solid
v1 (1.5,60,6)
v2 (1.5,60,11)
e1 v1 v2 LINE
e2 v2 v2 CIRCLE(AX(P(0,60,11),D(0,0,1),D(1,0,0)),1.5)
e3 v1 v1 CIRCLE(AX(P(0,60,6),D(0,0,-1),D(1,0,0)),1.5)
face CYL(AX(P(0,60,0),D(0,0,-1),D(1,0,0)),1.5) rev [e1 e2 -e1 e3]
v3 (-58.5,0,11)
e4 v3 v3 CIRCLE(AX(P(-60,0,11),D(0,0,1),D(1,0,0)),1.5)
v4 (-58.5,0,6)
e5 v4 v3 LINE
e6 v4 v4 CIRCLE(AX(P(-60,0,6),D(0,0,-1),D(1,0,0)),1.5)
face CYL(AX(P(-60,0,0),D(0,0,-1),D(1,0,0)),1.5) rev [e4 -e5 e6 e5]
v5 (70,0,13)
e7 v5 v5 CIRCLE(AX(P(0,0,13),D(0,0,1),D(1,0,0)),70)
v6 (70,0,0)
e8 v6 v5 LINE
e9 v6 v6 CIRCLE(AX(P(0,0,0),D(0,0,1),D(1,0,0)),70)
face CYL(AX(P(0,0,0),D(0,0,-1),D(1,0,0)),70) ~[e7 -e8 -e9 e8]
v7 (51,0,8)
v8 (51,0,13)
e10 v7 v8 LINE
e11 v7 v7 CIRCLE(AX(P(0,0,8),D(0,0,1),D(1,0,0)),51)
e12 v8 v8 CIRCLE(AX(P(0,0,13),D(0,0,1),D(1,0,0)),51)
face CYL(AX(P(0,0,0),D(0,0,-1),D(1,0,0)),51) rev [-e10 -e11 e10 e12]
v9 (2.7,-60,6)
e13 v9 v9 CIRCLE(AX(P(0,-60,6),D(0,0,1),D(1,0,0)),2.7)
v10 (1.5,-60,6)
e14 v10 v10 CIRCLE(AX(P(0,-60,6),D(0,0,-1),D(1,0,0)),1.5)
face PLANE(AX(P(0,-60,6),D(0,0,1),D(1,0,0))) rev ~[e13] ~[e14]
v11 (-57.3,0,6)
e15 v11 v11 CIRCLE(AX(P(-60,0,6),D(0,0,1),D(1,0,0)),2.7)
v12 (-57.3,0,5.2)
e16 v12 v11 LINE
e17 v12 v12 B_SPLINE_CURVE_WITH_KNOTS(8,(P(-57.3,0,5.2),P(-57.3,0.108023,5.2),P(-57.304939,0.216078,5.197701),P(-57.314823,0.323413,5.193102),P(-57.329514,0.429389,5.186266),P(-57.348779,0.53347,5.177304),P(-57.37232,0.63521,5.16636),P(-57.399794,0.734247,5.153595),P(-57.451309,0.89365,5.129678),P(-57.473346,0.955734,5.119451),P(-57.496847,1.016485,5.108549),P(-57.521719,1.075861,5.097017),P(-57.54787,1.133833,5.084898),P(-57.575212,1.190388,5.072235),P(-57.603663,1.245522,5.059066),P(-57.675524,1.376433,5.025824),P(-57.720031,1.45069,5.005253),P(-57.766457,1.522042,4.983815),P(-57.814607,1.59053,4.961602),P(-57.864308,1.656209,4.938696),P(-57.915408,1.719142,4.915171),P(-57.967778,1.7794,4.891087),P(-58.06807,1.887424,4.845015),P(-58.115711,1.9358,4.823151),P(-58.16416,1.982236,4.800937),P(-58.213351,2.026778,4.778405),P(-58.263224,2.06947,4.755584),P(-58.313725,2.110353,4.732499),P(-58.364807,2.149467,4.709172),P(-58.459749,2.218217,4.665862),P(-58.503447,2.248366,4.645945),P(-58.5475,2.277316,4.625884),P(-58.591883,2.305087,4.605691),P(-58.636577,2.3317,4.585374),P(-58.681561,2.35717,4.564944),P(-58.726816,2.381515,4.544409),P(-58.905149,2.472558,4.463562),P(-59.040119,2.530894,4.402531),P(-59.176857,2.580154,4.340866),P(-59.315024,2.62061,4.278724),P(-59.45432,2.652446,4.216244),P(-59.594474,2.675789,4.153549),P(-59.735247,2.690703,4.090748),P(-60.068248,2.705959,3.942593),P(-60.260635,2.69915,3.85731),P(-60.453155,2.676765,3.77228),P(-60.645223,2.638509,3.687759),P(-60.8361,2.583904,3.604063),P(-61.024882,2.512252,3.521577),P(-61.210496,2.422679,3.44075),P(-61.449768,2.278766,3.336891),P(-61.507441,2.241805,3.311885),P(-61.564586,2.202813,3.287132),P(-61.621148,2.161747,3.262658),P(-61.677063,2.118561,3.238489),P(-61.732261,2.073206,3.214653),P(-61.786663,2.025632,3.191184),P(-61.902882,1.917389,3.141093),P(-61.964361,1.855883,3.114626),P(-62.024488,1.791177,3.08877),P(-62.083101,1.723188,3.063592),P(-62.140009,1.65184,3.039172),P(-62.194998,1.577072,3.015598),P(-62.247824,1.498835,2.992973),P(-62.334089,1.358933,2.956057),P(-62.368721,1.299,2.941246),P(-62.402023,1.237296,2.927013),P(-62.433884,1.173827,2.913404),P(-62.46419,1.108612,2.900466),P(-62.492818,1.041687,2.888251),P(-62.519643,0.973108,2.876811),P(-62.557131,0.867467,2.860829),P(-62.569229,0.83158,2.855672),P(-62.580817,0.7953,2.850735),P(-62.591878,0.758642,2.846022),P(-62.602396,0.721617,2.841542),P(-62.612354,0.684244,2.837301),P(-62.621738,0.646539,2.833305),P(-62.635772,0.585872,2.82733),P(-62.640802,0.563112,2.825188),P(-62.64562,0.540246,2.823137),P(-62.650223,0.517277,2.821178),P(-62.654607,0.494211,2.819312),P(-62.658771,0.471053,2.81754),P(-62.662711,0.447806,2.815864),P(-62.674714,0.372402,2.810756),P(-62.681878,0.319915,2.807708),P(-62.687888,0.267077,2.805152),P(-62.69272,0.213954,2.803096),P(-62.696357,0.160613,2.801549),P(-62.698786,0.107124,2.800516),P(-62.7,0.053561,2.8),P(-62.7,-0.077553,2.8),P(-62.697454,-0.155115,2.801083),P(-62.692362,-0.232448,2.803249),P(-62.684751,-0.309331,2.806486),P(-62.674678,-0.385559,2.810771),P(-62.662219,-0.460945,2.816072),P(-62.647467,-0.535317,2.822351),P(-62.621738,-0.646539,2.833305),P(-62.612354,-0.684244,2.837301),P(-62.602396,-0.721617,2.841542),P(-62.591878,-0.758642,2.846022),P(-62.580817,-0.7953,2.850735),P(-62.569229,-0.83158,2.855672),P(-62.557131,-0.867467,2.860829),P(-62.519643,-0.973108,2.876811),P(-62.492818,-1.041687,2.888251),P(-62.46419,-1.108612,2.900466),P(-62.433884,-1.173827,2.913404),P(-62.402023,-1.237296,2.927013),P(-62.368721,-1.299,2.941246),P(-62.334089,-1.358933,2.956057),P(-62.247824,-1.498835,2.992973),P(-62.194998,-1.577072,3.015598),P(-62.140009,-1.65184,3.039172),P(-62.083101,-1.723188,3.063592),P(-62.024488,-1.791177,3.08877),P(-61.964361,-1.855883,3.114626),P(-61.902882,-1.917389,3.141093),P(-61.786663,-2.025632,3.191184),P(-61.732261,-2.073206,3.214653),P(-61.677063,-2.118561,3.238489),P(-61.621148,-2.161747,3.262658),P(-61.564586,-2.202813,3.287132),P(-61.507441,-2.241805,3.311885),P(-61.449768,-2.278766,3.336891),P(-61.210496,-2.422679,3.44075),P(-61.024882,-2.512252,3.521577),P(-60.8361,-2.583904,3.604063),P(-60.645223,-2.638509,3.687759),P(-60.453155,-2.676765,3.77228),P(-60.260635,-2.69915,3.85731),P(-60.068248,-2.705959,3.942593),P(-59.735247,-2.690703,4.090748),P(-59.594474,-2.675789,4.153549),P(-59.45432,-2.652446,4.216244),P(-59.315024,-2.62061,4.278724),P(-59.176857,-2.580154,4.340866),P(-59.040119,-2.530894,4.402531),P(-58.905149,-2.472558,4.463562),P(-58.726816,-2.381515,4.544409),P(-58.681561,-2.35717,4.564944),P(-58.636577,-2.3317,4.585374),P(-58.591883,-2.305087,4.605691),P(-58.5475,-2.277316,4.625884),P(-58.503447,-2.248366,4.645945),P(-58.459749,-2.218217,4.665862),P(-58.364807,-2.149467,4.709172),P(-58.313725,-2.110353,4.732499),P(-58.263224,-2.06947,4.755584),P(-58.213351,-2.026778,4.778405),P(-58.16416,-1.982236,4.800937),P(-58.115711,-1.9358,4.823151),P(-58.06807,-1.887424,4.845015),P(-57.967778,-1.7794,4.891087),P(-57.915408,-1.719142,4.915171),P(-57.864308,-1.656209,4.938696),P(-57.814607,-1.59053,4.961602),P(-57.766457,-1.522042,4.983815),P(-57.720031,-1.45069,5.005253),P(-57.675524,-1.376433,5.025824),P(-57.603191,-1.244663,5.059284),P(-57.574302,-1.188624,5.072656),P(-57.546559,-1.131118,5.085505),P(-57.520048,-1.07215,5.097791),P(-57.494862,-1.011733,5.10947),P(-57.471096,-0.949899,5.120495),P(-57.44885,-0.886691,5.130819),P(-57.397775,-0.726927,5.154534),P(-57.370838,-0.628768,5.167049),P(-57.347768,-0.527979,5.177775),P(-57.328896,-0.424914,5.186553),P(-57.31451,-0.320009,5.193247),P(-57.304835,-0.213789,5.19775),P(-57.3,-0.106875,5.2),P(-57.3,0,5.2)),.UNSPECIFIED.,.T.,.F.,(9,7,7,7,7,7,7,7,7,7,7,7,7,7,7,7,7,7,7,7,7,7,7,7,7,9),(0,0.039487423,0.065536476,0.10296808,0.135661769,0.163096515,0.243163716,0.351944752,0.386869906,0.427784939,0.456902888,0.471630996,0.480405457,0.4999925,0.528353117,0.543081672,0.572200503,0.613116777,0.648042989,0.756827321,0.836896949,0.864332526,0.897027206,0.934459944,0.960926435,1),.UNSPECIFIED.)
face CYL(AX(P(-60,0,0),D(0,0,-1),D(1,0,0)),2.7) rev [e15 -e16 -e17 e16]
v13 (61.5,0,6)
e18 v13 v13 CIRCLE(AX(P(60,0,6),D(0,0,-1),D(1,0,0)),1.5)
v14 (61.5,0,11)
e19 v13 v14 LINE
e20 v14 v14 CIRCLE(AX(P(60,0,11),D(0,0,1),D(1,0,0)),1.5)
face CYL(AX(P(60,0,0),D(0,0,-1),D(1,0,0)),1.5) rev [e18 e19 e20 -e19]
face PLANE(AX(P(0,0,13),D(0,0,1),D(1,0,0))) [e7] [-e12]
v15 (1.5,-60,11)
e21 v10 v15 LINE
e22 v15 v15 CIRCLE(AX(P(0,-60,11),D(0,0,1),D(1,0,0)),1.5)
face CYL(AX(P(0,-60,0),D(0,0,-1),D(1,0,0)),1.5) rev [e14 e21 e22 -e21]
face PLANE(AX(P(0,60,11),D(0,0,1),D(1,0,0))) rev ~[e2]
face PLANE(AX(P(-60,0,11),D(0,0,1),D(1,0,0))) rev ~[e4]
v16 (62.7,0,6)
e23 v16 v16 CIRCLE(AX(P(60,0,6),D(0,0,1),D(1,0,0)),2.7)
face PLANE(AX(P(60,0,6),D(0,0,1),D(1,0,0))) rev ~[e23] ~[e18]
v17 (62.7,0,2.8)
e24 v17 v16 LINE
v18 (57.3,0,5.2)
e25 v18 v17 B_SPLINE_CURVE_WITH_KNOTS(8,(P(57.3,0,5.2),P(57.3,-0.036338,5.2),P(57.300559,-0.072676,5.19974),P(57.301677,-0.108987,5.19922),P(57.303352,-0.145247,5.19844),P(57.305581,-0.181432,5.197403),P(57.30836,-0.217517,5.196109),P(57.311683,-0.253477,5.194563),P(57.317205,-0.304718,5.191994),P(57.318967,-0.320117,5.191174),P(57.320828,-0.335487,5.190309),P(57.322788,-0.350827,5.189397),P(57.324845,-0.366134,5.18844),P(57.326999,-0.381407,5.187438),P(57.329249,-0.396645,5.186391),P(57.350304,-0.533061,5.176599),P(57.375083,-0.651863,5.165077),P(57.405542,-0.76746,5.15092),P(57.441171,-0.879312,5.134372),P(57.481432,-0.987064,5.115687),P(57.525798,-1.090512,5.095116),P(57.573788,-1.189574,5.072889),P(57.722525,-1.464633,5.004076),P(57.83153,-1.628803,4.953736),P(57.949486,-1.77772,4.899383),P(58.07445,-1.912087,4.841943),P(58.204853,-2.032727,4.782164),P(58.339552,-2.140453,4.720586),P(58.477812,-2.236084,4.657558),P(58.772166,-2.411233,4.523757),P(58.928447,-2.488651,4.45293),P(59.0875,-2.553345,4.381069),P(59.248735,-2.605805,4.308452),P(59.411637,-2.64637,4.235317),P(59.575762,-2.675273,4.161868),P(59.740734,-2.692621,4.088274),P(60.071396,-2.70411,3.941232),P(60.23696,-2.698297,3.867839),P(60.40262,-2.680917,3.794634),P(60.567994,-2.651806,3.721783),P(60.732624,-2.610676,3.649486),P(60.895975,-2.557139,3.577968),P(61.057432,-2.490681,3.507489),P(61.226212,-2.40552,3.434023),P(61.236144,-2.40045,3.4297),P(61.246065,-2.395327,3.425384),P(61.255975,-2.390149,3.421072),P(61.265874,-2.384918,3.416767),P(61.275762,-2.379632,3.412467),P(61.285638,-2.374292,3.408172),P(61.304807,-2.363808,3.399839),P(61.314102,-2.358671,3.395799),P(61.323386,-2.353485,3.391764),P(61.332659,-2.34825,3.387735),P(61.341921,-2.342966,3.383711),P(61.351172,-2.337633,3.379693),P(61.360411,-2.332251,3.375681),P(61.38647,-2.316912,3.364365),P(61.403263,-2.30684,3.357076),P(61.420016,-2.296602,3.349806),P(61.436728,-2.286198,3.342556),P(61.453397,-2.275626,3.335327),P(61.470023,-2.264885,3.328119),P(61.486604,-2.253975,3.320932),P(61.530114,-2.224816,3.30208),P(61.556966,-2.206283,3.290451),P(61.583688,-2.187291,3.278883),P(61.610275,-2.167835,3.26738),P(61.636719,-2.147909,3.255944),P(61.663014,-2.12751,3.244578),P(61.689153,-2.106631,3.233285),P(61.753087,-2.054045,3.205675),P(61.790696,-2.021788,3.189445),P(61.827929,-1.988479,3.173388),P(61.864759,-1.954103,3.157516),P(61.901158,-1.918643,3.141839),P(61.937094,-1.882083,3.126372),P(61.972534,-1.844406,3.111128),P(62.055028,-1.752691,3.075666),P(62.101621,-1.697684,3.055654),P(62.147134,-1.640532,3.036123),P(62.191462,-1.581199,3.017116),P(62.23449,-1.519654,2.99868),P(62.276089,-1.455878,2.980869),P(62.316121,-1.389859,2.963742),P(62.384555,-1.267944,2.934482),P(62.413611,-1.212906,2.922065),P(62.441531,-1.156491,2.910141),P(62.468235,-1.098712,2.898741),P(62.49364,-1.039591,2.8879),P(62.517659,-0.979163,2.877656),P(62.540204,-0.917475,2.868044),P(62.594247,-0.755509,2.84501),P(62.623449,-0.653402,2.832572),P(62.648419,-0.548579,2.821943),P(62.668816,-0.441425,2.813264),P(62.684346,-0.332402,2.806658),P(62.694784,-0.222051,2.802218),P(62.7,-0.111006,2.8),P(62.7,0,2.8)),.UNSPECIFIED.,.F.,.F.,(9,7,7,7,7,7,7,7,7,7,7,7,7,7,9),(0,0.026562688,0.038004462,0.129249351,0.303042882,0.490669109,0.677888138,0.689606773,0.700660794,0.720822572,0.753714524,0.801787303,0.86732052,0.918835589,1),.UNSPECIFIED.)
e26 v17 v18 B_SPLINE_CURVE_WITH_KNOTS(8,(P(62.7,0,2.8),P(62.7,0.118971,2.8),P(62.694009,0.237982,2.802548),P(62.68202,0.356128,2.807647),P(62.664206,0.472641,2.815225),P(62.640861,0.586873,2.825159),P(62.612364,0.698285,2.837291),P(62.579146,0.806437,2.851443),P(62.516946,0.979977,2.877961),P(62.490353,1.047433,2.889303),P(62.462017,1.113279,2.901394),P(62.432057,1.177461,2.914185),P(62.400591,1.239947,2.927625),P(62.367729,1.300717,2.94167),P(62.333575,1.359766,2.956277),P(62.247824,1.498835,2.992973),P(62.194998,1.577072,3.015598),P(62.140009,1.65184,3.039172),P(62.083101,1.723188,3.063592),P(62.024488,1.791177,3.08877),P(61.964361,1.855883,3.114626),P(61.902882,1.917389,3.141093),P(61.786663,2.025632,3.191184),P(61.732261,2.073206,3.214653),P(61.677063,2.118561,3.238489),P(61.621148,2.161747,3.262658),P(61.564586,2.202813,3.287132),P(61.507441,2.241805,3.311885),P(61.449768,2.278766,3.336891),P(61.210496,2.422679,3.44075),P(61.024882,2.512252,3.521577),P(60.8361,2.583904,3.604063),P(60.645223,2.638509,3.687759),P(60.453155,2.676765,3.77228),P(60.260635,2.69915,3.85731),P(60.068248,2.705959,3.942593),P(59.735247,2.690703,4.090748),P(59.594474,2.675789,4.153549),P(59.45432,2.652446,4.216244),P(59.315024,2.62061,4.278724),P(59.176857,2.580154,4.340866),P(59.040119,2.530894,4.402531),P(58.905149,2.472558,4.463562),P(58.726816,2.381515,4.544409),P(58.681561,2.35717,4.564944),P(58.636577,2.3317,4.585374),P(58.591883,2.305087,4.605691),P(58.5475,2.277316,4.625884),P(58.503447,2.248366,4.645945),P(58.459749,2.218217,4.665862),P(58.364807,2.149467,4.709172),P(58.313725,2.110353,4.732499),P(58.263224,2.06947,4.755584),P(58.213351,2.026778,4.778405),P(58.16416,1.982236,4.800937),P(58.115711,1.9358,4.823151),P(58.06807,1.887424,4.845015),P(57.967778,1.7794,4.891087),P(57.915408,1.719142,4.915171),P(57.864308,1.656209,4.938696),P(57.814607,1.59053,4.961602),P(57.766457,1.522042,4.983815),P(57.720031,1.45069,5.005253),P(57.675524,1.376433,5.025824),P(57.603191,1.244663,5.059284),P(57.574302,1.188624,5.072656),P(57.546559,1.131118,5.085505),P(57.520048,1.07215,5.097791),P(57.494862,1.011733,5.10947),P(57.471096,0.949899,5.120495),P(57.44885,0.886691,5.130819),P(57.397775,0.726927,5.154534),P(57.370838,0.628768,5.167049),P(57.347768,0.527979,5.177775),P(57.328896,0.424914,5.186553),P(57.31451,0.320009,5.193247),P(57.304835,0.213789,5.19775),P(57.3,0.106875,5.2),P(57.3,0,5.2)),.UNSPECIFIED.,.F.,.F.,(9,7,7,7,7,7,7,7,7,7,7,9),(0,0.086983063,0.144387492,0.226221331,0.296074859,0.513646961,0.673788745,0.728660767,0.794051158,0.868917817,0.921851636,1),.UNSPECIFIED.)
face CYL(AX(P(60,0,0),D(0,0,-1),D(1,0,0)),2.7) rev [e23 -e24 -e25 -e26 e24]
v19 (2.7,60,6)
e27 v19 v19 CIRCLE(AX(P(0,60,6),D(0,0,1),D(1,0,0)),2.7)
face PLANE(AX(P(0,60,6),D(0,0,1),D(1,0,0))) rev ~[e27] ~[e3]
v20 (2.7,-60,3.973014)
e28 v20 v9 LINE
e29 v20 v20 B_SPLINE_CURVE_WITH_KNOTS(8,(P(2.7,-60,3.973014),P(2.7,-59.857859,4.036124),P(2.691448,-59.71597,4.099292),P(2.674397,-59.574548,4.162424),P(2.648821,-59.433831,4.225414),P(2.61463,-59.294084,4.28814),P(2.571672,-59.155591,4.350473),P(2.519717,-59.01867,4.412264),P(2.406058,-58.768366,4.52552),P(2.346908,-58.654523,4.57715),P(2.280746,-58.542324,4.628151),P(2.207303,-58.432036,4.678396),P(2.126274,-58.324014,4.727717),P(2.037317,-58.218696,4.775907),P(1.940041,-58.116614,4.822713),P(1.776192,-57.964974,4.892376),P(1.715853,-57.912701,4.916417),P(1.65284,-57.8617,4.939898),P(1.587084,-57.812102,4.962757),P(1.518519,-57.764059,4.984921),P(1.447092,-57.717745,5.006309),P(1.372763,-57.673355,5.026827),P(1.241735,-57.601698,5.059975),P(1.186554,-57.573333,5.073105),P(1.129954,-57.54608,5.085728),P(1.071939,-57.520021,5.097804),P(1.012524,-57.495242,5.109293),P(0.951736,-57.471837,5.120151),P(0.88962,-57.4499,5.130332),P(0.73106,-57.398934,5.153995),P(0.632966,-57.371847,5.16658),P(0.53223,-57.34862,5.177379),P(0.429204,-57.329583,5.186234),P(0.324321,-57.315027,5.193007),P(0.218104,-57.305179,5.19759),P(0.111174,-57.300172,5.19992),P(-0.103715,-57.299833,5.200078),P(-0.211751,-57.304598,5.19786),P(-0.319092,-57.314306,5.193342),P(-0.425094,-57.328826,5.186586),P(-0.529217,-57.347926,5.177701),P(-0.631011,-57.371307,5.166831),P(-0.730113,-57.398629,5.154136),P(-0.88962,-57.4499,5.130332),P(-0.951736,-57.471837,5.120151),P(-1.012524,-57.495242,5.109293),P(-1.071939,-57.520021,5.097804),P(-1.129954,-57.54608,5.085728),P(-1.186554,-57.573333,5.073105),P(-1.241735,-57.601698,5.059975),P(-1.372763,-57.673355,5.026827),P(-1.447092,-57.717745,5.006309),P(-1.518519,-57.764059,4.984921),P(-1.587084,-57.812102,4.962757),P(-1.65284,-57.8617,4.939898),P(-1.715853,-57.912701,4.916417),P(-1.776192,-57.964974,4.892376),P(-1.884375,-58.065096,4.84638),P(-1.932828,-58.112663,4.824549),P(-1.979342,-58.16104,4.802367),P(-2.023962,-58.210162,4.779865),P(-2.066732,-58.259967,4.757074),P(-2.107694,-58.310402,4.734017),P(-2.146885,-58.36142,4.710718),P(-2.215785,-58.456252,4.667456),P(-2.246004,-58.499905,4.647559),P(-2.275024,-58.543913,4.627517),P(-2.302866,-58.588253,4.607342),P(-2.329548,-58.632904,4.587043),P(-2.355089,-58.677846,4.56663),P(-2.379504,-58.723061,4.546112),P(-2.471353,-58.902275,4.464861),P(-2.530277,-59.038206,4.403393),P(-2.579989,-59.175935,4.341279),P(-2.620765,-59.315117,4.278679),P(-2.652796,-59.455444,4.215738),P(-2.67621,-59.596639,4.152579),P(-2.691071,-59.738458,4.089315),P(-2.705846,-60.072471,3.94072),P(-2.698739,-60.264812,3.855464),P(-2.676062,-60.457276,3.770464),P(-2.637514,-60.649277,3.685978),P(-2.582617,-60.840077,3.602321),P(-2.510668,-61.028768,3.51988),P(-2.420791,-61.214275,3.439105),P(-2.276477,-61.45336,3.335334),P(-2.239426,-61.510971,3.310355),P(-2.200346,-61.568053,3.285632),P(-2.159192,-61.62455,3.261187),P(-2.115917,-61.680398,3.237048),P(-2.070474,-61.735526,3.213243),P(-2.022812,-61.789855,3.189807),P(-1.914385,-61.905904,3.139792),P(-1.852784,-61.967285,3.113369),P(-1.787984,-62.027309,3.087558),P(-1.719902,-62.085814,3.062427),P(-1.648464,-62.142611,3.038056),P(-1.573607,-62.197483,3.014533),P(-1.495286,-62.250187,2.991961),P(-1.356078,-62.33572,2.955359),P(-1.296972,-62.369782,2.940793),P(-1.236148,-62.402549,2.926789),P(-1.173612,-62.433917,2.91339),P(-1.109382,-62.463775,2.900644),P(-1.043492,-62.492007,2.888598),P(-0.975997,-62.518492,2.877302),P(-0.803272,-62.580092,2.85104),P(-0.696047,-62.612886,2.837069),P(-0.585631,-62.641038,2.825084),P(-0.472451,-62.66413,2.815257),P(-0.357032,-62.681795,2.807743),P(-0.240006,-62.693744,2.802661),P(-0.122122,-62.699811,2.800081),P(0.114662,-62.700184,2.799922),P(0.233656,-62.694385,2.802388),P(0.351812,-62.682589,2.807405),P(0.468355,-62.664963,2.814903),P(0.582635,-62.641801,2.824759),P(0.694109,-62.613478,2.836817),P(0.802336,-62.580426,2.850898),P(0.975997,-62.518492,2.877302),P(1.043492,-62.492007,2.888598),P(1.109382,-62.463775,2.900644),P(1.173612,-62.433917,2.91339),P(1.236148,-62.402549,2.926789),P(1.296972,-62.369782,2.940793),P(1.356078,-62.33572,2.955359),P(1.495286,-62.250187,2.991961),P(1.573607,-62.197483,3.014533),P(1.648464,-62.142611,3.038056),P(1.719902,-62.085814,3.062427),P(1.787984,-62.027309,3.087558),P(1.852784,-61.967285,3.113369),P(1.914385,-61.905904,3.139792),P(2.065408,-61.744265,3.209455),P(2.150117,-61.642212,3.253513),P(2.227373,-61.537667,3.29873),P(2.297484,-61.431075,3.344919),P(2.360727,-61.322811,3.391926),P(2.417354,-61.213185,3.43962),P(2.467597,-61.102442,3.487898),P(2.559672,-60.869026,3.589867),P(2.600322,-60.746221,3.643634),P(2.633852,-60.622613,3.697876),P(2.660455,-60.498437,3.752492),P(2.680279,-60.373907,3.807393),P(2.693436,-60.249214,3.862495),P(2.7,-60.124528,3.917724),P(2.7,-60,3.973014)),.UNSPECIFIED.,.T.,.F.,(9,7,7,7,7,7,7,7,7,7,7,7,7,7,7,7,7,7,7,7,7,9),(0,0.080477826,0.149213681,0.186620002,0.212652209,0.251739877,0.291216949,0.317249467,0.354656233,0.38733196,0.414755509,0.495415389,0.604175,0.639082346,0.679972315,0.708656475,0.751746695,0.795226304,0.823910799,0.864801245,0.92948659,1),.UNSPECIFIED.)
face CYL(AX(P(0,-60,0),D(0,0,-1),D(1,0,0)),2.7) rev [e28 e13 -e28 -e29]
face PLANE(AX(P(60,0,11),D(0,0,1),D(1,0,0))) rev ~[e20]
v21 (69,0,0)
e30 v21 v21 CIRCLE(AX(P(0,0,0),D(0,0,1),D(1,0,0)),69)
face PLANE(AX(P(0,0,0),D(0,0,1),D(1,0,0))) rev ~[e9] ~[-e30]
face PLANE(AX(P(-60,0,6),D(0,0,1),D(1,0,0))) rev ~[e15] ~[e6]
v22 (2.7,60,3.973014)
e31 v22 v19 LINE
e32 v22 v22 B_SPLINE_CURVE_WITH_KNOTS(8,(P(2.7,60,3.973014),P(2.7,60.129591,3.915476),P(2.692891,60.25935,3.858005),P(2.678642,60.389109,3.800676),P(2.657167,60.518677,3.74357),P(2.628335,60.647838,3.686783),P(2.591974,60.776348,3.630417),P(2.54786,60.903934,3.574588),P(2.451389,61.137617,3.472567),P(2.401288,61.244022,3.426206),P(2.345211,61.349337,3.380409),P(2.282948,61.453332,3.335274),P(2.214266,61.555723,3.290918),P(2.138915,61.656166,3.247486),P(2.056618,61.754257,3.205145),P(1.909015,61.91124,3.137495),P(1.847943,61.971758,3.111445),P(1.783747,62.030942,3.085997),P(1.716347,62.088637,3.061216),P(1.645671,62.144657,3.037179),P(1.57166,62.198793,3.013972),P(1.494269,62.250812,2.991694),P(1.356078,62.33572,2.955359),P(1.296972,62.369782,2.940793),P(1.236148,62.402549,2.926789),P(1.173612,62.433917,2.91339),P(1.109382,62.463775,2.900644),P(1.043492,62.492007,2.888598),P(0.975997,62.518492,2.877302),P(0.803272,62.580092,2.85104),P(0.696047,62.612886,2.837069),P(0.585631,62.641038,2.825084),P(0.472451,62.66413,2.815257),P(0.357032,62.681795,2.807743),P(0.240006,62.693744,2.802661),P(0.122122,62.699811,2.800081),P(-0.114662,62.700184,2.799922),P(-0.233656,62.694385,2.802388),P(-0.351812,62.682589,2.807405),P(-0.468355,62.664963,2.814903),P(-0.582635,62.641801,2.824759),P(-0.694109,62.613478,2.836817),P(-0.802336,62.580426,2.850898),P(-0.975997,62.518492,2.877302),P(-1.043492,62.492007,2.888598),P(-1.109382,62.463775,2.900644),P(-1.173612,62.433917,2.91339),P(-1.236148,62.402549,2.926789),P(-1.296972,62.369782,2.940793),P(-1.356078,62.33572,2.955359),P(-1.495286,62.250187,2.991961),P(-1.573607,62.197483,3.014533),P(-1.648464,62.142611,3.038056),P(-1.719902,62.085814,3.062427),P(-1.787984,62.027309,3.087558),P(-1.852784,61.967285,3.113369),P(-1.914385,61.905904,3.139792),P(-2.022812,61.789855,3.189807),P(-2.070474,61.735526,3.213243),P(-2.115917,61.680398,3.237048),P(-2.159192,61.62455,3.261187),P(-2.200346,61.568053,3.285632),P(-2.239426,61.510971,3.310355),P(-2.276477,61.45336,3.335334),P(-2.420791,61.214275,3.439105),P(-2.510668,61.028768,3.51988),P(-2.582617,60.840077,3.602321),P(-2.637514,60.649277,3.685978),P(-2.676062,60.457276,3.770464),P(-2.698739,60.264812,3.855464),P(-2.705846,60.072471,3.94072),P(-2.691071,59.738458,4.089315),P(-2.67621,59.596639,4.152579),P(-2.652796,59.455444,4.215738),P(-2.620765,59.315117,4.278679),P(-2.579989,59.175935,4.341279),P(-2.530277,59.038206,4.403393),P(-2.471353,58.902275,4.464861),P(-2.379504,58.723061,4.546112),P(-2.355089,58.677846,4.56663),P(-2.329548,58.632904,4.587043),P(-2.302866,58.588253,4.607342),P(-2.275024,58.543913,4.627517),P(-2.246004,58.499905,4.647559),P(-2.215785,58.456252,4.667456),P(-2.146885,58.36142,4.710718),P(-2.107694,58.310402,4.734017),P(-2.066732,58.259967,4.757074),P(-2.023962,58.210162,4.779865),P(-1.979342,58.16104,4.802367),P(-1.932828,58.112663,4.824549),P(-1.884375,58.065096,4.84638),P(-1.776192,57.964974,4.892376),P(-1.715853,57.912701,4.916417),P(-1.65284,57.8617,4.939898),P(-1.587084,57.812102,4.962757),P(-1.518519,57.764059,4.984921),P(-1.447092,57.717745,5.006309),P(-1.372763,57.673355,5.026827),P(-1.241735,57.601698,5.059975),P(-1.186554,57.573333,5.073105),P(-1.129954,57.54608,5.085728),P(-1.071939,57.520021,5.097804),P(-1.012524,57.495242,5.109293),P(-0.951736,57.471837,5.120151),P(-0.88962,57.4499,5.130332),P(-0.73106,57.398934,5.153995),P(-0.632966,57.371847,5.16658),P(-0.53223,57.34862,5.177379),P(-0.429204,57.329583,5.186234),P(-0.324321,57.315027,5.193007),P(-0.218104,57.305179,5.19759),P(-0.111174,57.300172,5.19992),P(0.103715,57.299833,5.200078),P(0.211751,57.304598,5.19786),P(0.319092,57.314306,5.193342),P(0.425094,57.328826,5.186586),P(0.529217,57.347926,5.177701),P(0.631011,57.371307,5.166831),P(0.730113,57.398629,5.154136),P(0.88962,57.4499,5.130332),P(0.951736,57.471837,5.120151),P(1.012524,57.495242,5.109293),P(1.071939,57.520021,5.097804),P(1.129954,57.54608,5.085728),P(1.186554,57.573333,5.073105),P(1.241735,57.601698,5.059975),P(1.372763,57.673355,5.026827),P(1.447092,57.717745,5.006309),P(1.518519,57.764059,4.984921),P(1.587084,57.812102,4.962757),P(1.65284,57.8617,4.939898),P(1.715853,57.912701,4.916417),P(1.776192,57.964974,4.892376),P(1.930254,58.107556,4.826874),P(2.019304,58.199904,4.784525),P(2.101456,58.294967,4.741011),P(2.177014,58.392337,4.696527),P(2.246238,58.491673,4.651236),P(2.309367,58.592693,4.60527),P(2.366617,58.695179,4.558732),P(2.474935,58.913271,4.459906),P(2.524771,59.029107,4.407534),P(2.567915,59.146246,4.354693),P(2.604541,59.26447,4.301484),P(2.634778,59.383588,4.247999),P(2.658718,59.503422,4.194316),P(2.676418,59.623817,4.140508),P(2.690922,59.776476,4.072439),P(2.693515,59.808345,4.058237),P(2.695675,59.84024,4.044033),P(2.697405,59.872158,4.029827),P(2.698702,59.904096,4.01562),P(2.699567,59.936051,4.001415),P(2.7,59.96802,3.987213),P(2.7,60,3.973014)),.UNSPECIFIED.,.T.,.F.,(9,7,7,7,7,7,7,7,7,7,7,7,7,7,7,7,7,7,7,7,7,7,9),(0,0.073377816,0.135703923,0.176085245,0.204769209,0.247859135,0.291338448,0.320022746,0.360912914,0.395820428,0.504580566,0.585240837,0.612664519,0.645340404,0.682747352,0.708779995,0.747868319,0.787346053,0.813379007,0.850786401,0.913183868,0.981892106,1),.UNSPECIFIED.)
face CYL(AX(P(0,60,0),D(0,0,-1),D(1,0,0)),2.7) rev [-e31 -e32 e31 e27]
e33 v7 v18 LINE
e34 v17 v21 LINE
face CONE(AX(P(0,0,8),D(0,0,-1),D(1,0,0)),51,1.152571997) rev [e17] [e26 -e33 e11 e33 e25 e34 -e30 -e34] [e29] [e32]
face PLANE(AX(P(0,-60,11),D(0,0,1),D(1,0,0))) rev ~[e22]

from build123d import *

# Parameters (mm, degrees)
EXPORT_R        = 70
EXPORT_R_2      = 51
PAD_DEPTH       = 13
CHAMFER_SIZE2   = 18
CHAMFER_SIZE    = 8
EXPORT001_R     = 1.5
POCKET_DEPTH    = 11
EXPORT002_R     = 2.7
POCKET001_DEPTH = 6


with BuildPart() as part:
    # Export → Pad (new body)
    with BuildSketch(Plane.XY):
        Circle(EXPORT_R)
        Circle(EXPORT_R_2, mode=Mode.SUBTRACT)
    extrude(amount=PAD_DEPTH)

    # Chamfer
    chamfer_edges = [part.edges().sort_by_distance(p)[0] for p in [
        (-51, 0, 0),
    ]]
    chamfer_side = part.faces().sort_by_distance((-51, 0, 6.5))[0]
    chamfer(chamfer_edges, length=CHAMFER_SIZE, length2=CHAMFER_SIZE2, reference=chamfer_side)

    # Export001 → Pocket (cut)
    with BuildSketch(Plane.XY):
        with Locations((0, 60)):
            Circle(EXPORT001_R)
        with Locations((60, 0)):
            Circle(EXPORT001_R)
        with Locations((0, -60)):
            Circle(EXPORT001_R)
        with Locations((-60, 0)):
            Circle(EXPORT001_R)
    extrude(amount=POCKET_DEPTH, mode=Mode.SUBTRACT)

    # Export002 → Pocket001 (cut)
    with BuildSketch(Plane.XY):
        with Locations((-60, 0)):
            Circle(EXPORT002_R)
        with Locations((0, -60)):
            Circle(EXPORT002_R)
        with Locations((0, 60)):
            Circle(EXPORT002_R)
        with Locations((60, 0)):
            Circle(EXPORT002_R)
    extrude(amount=POCKET001_DEPTH, mode=Mode.SUBTRACT)


solid = part.part
